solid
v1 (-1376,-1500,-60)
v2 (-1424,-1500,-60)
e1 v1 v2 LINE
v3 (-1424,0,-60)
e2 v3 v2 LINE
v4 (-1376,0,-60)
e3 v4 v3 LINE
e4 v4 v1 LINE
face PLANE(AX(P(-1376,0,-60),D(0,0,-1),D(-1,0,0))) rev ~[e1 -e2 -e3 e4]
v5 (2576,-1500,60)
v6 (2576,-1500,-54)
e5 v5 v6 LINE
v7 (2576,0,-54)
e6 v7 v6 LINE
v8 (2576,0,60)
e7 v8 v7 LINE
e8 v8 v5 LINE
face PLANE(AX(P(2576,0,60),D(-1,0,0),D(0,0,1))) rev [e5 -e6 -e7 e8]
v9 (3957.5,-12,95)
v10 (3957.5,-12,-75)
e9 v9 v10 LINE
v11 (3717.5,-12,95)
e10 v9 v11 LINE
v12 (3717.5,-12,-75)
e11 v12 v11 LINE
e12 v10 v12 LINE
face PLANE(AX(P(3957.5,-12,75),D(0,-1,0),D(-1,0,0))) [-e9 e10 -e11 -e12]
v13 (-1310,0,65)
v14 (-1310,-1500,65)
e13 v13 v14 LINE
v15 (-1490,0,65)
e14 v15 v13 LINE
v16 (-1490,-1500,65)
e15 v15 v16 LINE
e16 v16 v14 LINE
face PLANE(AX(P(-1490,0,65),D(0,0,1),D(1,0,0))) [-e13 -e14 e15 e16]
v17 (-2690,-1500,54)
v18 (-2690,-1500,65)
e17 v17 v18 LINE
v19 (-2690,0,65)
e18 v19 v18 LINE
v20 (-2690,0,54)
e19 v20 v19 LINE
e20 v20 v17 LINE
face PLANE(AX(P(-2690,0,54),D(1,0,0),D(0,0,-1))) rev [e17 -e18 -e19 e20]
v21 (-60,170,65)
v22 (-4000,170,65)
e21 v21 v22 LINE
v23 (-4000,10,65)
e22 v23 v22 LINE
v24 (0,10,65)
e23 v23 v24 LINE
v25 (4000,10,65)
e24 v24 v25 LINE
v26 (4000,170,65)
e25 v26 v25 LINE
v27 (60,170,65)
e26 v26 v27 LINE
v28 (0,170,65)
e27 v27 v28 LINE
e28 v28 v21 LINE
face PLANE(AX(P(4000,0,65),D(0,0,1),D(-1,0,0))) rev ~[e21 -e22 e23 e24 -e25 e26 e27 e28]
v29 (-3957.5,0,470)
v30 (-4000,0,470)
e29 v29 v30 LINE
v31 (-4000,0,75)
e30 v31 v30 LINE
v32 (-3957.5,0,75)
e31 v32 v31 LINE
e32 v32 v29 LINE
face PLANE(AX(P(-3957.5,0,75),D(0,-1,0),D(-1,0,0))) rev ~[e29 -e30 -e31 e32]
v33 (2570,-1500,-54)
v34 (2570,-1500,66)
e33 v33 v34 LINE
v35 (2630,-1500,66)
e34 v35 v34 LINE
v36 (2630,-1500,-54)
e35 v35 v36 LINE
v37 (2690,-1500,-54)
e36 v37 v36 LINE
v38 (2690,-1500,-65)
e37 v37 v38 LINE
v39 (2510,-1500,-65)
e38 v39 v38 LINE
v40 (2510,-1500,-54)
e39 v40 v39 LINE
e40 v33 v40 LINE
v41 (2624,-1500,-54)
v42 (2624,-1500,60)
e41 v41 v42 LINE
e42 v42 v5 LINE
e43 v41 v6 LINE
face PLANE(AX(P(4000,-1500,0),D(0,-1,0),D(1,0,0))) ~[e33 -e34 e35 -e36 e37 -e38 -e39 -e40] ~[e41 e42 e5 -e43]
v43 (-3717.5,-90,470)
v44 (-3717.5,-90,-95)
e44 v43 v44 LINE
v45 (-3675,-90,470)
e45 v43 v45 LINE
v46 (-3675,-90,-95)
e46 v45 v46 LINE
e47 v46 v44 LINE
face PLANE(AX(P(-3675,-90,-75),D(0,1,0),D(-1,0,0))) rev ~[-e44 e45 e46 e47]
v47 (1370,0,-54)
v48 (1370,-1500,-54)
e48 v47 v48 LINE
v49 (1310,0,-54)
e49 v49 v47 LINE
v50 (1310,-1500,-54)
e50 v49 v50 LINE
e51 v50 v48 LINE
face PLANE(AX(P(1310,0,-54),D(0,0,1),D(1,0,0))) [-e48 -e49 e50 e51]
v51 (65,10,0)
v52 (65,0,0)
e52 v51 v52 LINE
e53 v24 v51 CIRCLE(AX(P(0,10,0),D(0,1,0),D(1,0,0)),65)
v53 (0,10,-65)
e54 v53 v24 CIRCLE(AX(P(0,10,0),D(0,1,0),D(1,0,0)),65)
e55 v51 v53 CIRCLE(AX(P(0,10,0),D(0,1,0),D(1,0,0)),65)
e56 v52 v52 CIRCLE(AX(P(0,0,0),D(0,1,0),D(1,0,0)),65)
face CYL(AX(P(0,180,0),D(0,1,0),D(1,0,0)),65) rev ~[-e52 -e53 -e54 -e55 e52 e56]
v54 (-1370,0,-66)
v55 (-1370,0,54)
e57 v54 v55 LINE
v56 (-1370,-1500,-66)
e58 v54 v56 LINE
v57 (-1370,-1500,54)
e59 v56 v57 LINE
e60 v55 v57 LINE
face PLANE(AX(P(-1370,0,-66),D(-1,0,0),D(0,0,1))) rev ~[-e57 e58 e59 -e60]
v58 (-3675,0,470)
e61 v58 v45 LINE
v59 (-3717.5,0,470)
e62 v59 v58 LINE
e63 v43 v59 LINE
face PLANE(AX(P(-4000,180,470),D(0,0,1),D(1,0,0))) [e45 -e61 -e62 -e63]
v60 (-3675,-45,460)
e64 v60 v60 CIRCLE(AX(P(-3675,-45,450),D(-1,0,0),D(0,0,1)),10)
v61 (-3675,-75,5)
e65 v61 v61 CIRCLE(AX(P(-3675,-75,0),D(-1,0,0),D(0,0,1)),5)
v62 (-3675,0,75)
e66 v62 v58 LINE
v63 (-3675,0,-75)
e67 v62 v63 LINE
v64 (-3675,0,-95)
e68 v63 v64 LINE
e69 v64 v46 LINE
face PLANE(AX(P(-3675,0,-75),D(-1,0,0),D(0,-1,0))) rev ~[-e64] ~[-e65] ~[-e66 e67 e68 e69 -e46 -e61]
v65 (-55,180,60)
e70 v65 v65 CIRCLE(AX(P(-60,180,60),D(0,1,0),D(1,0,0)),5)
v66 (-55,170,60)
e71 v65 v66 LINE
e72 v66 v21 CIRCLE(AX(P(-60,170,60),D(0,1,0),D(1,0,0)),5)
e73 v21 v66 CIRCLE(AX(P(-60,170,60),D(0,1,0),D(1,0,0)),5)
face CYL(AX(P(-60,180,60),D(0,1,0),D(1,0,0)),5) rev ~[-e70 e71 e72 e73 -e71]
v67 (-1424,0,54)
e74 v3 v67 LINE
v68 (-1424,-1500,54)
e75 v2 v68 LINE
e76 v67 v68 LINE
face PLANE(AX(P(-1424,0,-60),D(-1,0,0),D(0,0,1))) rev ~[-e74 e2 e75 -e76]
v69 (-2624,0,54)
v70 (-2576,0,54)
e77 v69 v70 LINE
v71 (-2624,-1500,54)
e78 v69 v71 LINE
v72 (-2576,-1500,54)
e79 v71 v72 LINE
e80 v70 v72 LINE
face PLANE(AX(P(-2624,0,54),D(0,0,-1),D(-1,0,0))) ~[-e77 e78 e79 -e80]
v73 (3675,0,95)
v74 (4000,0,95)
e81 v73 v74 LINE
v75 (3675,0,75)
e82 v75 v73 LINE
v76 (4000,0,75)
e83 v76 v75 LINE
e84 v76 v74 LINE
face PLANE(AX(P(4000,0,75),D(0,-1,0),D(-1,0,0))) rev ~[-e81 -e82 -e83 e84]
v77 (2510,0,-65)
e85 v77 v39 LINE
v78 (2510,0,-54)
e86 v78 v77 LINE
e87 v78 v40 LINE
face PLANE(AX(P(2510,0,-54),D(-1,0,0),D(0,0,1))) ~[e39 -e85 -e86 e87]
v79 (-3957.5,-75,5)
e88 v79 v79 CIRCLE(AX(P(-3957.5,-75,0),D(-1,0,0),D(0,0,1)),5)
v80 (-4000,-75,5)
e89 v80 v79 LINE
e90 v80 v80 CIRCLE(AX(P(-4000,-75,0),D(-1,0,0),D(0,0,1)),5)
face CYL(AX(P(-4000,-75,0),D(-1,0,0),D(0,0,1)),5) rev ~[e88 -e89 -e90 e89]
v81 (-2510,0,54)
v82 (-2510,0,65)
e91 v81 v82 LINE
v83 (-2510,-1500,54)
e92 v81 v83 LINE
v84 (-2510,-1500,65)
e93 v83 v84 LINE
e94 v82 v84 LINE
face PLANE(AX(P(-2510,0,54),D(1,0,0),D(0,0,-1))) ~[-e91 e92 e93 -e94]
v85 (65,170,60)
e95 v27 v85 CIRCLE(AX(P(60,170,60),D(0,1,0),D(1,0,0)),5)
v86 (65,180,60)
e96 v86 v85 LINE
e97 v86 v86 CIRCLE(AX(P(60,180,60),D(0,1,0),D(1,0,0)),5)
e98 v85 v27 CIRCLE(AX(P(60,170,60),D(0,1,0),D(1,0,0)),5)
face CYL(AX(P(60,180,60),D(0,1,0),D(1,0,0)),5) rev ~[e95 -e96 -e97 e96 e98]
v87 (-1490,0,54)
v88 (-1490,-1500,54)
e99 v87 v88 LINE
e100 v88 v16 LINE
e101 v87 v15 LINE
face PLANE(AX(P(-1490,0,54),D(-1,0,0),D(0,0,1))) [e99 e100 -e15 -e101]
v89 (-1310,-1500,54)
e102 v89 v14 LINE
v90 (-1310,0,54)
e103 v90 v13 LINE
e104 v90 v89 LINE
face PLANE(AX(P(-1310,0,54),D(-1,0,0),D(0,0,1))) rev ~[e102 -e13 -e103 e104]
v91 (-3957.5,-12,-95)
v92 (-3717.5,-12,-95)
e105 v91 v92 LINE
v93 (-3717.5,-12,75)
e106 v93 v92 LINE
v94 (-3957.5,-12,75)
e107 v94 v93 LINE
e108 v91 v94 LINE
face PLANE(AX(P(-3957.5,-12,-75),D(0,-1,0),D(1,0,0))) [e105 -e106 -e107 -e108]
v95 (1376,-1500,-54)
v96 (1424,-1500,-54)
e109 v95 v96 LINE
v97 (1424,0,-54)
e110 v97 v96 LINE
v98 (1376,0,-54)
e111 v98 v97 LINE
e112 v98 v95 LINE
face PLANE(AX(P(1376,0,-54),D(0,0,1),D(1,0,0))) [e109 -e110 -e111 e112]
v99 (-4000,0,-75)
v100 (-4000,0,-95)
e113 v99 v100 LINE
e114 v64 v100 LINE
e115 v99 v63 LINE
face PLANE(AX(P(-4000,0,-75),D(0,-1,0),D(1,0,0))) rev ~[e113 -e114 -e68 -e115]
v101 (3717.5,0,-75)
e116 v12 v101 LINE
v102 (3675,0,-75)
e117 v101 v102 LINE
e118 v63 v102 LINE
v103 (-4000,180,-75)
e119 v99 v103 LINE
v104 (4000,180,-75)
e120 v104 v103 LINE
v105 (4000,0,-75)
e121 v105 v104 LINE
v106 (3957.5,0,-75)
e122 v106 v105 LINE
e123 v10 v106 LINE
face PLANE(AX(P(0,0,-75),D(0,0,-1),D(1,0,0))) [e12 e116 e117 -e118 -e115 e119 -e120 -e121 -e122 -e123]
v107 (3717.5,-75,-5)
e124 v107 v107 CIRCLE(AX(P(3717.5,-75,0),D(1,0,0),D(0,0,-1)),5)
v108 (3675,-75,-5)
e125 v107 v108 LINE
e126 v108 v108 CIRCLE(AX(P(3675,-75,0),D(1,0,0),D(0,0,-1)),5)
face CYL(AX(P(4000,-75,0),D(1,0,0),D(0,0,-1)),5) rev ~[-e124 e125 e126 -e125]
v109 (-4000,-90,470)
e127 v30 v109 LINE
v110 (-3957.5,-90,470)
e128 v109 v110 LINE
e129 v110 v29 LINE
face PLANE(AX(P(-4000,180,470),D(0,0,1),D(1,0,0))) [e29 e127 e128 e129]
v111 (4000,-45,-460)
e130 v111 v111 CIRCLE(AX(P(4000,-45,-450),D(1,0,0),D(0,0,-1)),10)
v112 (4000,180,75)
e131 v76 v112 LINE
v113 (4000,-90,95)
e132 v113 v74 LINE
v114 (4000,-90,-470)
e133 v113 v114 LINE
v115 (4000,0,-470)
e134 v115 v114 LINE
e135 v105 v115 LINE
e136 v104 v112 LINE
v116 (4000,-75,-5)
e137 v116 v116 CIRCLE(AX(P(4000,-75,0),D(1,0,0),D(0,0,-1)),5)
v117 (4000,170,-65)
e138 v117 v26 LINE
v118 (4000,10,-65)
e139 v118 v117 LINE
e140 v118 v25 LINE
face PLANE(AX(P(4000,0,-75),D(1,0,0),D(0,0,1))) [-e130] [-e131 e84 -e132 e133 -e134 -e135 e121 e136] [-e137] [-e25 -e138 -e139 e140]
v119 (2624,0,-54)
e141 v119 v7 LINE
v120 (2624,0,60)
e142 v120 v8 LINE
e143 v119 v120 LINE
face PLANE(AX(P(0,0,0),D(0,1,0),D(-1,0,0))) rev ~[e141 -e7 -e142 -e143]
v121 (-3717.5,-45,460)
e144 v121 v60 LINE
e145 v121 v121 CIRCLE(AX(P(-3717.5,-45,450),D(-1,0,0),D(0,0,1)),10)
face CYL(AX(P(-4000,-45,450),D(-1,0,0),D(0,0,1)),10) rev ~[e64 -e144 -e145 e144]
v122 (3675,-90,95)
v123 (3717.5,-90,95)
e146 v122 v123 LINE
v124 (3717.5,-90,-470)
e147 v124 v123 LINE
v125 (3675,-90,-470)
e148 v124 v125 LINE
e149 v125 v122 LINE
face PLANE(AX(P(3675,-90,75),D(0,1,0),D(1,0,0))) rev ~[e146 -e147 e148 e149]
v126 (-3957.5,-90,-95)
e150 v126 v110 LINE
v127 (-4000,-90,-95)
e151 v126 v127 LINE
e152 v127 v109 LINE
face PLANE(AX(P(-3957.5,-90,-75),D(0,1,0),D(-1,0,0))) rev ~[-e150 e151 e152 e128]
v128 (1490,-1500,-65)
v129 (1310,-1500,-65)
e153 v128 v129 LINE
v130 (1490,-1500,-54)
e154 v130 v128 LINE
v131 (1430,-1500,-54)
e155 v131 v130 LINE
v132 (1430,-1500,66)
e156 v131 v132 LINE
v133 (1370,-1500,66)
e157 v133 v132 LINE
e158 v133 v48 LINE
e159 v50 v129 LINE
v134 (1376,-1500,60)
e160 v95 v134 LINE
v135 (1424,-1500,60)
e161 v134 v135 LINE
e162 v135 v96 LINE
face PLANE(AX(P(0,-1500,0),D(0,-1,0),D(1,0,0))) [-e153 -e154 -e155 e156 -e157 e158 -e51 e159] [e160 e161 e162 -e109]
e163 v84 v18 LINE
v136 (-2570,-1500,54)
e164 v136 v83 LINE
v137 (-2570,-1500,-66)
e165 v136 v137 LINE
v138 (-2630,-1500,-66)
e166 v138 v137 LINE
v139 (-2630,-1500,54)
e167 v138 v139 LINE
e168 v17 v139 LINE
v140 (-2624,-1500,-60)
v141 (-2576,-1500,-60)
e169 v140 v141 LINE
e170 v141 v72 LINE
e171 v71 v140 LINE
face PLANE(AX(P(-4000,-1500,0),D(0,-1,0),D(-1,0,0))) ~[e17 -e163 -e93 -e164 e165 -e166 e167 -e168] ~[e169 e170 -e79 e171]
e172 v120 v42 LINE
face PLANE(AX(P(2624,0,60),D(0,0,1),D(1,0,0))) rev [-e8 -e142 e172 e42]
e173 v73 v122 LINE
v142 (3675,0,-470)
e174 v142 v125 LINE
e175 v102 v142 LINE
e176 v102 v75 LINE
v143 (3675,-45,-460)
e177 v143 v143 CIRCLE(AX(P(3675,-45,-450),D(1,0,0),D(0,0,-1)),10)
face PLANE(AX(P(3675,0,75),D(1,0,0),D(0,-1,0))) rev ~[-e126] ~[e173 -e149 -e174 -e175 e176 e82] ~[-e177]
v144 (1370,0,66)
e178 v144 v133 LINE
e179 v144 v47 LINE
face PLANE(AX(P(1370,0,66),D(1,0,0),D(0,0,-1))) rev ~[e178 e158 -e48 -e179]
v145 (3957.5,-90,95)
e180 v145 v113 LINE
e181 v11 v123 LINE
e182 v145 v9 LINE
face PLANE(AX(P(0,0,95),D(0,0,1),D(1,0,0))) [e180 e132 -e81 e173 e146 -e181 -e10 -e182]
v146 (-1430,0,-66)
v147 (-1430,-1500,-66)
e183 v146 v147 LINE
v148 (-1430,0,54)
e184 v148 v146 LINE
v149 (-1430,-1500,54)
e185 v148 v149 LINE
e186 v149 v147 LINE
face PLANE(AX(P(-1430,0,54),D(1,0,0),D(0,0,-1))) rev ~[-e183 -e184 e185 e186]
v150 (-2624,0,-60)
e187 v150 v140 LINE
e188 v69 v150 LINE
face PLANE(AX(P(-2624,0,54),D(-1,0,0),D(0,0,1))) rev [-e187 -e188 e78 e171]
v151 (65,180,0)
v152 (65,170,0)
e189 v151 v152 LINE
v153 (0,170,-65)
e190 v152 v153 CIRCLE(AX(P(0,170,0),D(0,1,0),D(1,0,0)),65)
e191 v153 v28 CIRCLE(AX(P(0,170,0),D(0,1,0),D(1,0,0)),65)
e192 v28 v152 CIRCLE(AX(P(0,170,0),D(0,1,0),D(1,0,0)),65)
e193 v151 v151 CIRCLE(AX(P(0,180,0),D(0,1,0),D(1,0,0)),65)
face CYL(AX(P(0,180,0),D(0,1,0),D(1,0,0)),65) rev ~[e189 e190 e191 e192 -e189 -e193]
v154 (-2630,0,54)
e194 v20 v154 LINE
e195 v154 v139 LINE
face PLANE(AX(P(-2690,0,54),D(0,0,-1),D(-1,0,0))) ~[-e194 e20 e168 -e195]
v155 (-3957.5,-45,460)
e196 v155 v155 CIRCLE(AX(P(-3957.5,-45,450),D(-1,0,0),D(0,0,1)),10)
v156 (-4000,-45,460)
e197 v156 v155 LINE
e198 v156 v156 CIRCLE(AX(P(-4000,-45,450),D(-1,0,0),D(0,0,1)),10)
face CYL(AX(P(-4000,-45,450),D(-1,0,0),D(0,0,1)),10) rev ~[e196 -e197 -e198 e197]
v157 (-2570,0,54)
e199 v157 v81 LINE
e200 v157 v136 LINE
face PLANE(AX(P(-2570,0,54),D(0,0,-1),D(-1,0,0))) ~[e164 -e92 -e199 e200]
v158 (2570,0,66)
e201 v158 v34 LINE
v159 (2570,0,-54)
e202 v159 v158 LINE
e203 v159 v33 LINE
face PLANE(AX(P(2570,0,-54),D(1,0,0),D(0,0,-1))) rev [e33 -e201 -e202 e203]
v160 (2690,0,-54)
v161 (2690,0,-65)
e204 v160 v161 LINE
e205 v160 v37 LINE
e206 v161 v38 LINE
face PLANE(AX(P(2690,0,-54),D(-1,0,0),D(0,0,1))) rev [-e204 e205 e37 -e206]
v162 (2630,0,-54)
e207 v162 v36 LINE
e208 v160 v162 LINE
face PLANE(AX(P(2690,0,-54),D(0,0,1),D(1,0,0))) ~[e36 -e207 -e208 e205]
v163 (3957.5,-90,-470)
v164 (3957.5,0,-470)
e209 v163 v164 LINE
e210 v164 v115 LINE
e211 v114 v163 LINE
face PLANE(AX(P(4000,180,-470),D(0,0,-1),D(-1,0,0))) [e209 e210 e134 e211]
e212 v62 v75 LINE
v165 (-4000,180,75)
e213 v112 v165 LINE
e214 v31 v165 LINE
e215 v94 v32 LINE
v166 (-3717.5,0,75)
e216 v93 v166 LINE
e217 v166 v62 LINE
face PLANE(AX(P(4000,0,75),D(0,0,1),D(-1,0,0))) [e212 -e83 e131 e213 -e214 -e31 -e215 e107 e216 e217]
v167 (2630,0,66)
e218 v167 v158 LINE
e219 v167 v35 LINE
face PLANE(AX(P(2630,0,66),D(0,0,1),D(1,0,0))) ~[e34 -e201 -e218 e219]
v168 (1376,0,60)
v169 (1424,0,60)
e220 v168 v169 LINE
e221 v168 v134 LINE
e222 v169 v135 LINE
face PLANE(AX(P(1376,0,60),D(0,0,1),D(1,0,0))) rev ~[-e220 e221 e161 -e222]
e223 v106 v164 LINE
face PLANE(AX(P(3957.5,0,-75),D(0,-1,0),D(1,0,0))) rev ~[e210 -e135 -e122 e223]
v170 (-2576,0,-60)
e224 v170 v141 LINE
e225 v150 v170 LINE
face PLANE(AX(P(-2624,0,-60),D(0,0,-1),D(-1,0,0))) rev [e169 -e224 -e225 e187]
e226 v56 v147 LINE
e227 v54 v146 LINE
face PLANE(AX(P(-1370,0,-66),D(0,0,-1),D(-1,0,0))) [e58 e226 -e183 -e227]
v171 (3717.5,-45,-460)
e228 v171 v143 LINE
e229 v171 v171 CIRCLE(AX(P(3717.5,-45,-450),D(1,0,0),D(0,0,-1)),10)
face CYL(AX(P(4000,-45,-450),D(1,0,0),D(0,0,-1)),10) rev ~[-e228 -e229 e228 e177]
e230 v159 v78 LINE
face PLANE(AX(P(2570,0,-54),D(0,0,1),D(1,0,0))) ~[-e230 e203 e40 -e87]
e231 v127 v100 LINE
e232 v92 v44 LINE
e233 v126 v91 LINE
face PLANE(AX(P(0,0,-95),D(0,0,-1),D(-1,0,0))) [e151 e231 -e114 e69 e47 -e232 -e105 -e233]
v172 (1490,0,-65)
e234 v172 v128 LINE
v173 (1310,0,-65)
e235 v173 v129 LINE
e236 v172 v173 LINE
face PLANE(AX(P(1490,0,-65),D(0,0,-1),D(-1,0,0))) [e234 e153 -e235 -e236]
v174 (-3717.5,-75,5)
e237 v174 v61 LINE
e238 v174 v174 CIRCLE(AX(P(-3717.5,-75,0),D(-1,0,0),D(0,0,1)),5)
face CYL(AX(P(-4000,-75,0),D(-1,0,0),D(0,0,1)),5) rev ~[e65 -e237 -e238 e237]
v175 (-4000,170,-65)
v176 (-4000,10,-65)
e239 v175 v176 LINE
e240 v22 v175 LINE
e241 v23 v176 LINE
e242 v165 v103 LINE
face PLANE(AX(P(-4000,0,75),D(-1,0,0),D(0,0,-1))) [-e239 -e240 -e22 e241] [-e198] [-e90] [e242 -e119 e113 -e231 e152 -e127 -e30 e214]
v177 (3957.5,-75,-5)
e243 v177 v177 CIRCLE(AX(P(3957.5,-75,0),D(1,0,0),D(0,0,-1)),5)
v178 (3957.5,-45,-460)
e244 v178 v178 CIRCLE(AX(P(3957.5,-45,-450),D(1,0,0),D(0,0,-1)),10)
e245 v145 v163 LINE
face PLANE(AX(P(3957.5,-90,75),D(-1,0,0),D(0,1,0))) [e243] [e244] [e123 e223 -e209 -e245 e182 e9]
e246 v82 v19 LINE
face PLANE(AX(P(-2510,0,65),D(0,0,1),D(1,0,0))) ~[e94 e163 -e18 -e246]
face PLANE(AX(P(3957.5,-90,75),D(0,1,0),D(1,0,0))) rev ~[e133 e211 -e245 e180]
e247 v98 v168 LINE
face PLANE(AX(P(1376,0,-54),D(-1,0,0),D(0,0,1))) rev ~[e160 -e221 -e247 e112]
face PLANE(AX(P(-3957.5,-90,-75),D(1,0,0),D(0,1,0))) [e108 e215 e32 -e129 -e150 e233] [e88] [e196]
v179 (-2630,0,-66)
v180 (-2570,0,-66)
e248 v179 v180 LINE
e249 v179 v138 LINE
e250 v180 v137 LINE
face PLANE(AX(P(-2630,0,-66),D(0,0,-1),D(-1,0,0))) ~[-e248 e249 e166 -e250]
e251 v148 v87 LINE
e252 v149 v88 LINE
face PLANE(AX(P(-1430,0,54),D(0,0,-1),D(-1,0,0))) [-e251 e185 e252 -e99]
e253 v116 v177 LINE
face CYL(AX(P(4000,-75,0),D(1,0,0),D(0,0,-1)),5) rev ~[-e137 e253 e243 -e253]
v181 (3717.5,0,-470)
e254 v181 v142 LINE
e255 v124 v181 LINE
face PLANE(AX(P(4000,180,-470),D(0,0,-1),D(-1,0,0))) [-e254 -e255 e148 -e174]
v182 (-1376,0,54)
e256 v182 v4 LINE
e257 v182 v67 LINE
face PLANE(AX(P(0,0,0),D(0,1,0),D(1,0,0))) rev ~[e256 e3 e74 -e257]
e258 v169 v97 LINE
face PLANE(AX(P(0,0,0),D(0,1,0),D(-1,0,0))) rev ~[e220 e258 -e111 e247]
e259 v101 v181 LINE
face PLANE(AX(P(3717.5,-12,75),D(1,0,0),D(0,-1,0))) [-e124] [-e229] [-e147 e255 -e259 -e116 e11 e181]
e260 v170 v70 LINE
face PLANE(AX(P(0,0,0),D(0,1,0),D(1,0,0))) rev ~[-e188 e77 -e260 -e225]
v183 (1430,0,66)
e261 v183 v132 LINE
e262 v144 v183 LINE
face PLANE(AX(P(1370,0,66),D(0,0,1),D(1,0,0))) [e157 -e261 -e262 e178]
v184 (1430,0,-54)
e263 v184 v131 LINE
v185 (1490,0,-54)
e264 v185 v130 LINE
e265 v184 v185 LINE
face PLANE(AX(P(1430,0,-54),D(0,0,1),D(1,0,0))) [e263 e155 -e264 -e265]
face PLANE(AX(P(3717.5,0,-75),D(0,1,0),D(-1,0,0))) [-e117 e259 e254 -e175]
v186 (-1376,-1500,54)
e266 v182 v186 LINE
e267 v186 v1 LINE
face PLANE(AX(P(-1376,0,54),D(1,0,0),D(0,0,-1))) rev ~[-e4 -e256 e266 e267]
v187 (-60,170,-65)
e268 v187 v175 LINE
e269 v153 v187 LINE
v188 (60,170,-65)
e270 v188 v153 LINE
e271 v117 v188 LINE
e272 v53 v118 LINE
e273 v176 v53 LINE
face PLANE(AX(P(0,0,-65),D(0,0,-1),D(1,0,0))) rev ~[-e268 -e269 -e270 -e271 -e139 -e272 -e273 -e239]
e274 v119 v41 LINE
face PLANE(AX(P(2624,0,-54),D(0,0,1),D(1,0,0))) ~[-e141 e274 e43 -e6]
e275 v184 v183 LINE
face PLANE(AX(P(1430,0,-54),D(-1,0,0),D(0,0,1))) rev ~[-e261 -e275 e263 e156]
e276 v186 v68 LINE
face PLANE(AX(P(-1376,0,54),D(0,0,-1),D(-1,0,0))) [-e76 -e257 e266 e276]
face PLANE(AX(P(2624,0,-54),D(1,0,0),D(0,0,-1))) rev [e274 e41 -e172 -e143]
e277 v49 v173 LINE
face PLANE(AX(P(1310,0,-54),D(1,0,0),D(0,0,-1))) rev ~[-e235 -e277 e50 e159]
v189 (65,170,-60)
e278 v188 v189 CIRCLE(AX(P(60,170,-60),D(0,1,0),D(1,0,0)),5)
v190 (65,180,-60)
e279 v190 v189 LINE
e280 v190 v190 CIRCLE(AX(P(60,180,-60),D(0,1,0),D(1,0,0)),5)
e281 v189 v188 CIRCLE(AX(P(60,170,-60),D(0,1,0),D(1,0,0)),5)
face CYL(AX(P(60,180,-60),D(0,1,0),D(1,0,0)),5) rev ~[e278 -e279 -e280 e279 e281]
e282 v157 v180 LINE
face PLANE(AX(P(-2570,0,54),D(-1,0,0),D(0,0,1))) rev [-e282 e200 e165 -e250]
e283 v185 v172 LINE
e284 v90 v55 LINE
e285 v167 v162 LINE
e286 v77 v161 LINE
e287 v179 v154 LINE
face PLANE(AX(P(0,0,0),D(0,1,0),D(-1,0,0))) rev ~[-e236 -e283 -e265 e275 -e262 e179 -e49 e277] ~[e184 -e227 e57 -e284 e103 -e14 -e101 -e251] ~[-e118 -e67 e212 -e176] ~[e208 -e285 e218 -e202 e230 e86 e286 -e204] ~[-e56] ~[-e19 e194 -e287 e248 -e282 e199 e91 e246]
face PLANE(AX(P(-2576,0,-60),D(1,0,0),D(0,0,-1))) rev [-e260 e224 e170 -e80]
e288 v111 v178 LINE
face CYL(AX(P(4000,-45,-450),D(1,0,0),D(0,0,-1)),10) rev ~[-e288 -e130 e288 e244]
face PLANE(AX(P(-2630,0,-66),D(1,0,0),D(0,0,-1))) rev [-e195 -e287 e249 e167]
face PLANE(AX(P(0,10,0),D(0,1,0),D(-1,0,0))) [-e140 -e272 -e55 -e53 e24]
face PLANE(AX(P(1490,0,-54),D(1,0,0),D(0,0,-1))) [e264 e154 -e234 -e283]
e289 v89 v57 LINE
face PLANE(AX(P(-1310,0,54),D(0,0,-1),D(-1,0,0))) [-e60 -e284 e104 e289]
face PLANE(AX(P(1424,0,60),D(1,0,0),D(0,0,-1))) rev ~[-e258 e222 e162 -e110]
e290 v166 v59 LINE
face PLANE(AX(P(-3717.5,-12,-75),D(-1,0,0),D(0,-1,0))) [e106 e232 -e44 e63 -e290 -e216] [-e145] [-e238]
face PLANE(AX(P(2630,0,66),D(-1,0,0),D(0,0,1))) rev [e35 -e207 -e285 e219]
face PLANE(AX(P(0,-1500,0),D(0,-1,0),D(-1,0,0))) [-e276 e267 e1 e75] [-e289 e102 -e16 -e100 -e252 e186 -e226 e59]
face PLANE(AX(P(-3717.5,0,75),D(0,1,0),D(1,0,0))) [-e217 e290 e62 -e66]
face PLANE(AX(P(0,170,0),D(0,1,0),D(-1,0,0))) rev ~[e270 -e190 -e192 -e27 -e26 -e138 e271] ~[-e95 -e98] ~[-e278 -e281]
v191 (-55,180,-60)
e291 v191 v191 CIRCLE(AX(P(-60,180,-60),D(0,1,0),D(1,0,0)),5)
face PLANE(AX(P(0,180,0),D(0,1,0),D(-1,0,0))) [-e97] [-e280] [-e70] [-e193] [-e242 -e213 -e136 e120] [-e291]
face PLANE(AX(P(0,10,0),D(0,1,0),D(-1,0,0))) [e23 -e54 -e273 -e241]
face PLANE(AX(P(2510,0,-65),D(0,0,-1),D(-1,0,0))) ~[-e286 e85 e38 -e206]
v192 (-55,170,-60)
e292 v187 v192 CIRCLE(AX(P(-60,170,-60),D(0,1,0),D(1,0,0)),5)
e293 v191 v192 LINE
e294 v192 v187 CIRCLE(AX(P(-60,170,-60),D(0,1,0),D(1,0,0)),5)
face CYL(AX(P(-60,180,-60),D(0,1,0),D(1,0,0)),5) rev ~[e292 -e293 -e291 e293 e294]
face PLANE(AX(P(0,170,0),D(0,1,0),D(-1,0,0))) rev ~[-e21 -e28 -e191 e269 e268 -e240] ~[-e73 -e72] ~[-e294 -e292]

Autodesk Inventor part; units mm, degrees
ref_plane "YZ Plane" through (0, 0, 0) normal (1, 0, 0) x (0, 1, 0)
ref_plane "XZ Plane" through (0, 0, 0) normal (0, 1, 0) x (-1, 0, 0)
sketch "Sketch1" plane through (0, 0, 0) normal (0, 1, 0) x (-1, 0, 0)
  line L0 (0, 0) -> (-1400, 0) construction
  line L1 (-1400, 0) -> (-2600, 0) construction
  line L2 (-2600, 0) -> (-4000, 0) construction
  line L3 (-4000, 75) -> (0, 75)
  line L4 (0, 75) -> (0, -75)
  line L5 (0, -75) -> (-4000, -75)
  line L6 (-4000, -75) -> (-4000, 75)
  line L7 (-4000, 75) -> (0, -75) construction
  line L8 (0, 75) -> (-4000, -75) construction
  point P0 (-2000, 0)
  dimension "d0" = 1400
  dimension "d1" = 1200
  dimension "d2" = 1400
  dimension "d3" = 150
  dimension "d4" = 4000
extrude "Extrusion1" add sketch "Sketch1" along normal blind 180
shell "Shell1" thickness 10 removed faces 2 at (4000, 60, 25) at (0, 60, -25)
sketch "Sketch2" plane through (0, 0, 0) normal (0, -1, 0) x (1, 0, 0)
  line L0 (0, 0) -> (1400, 0) construction
  line L1 (1400, 0) -> (2600, 0) construction
  line L2 (2600, 0) -> (4000, 0) construction
  line L3 (0, -75) -> (0, 75) construction
  line L4 (4000, 75) -> (4000, -75) construction
  line L5 (0, 75) -> (4000, 75) construction
  line L6 (4000, 75) -> (4000, -75) construction
  line L7 (4000, -75) -> (0, -75) construction
  line L8 (0, -75) -> (0, 75) construction
  line L9 (3991, 66) -> (9, 66) construction
  line L10 (9, 66) -> (9, -66) construction
  line L11 (9, -66) -> (3991, -66) construction
  line L12 (3991, -66) -> (3991, 66) construction
  line L13 (1370, -66) -> (1370, 66) construction
  line L14 (1370, 66) -> (1430, 66) construction
  line L15 (1430, 66) -> (1430, -66) construction
  line L16 (1430, -66) -> (1370, -66) construction
  line L17 (1370, -66) -> (1430, 66) construction
  line L18 (1370, 66) -> (1430, -66) construction
  line L19 (1310, -66) -> (1310, 66) construction
  line L20 (1310, 66) -> (1490, 66) construction
  line L21 (1490, 66) -> (1490, -66) construction
  line L22 (1490, -66) -> (1310, -66) construction
  line L23 (1310, -66) -> (1490, 66) construction
  line L24 (1310, 66) -> (1490, -66) construction
  line L25 (1310, -66) -> (1490, -66) construction
  line L26 (1490, -66) -> (1490, -54) construction
  line L27 (1490, -54) -> (1310, -54) construction
  line L28 (1310, -54) -> (1310, -66) construction
  line L29 (1370, -54) -> (1430, -54) construction
  line L30 (1430, -54) -> (1430, 66) construction
  line L31 (1430, 66) -> (1370, 66) construction
  line L32 (1370, 66) -> (1370, -54) construction
  line L33 (1310, -54) -> (1370, -54)
  line L34 (1370, 66) -> (1370, -54)
  line L35 (1430, -54) -> (1430, 66)
  line L36 (1370, 66) -> (1430, 66)
  line L37 (1430, -54) -> (1490, -54)
  line L38 (1310, -54) -> (1310, -66)
  line L39 (1310, -66) -> (1490, -66)
  line L40 (1490, -54) -> (1490, -66)
  line L41 (4000, -65) -> (0, -65) projected
  line L42 (1376, -54) -> (1376, 60)
  line L43 (1376, 60) -> (1424, 60)
  line L44 (1424, 60) -> (1424, -54)
  line L45 (1376, -54) -> (1424, -54)
  point P0 (1310, -65)
  point P1 (1490, -65)
  dimension "d8" = 1400
  dimension "d9" = 1200
  dimension "d10" = 1400
  dimension "d11" = 9
  dimension "d12" = 60
  dimension "d13" = 180
  dimension "d14" = 12
  dimension "d15" = 6
  dimension "d16" = 114
extrude "Extrusion2" add sketch "Sketch2" along normal blind 1500 contours L33 L34 L36 L35 L37 L40 L41 L38
ref_plane "Work Plane1" through (1400, -1500, -54) normal (1, 0, 0) x (0, 0, -1)
ref_plane "Work Plane3" through (2000, -1500, -54) normal (1, 0, 0) x (0, 0, -1)
ref_plane "Work Plane2" through (2600, -1500, -54) normal (1, 0, 0) x (0, 0, -1)
mirror "Mirror1" about plane through (2000, -1500, -54) normal (1, 0, 0) of "Extrusion2"
sketch "Sketch3" plane through (0, 0, 75) normal (0, 0, 1) x (1, 0, 0)
  line L0 (4000, 0) -> (0, 0) projected
  line L1 (4000, 0) -> (3675, 0)
  line L2 (3675, 0) -> (3675, -90)
  line L3 (3675, -90) -> (4000, -90)
  line L4 (4000, -90) -> (4000, 0)
  line L5 (3675, 0) -> (3717.5, 0)
  line L6 (3717.5, 0) -> (3717.5, -90)
  line L7 (3717.5, -90) -> (3675, -90)
  line L8 (3675, -90) -> (3675, 0)
  line L9 (4000, -90) -> (3957.5, -90)
  line L10 (3957.5, -90) -> (3957.5, 0)
  line L11 (3957.5, 0) -> (4000, 0)
  line L12 (4000, 0) -> (4000, -90)
  line L13 (3717.5, 0) -> (3957.5, 0)
  line L14 (3957.5, 0) -> (3957.5, -12)
  line L15 (3957.5, -12) -> (3717.5, -12)
  line L16 (3717.5, -12) -> (3717.5, 0)
  dimension "d20" = 325
  dimension "d21" = 90
  dimension "d22" = 42.5
  dimension "d23" = 42.5
  dimension "d24" = 90
  dimension "d25" = 12
extrude "Extrusion3" add sketch "Sketch3" along normal blind 20 and the other way blind 150 contours L4 L3 L10 L0 | L10 L15 L6 L0 | L6 L3 L2 L0
sketch "Sketch5" plane through (4000, 180, -75) normal (0, 0, -1) x (-1, 0, 0)
  line L0 (0, 0) -> (0, -270) projected
  line L1 (0, -270) -> (42.5, -270)
  line L2 (42.5, -270) -> (42.5, -180)
  line L3 (42.5, -180) -> (0, -180)
  line L4 (0, -180) -> (0, -270)
  line L5 (282.5, -270) -> (325, -270) projected
  line L6 (325, -270) -> (282.5, -270)
  line L7 (282.5, -270) -> (282.5, -180)
  line L8 (282.5, -180) -> (325, -180)
  line L9 (325, -180) -> (325, -270)
  point P0 (4000, -180)
  dimension "d36" = 90
  dimension "d37" = 42.5
  dimension "d38" = 90
extrude "Extrusion4" add sketch "Sketch5" along normal blind 395
sketch "Sketch6" plane through (4000, 180, 75) normal (1, 0, 0) x (0, 0, -1)
  line L0 (-20, -192) -> (-20, -270) projected
  line L1 (-20, -270) -> (75, -270) construction
  line L2 (75, -270) -> (75, -255) construction
  line L3 (75, -255) -> (-20, -255) construction
  line L4 (-20, -255) -> (-20, -270) construction
  circle A0 centre (75, -255) radius 5
  line L5 (150, -180) -> (545, -180) projected
  line L6 (545, -180) -> (525, -180) construction
  line L7 (525, -180) -> (525, -225) construction
  line L8 (525, -225) -> (545, -225) construction
  line L9 (545, -225) -> (545, -180) construction
  circle A1 centre (525, -225) radius 10
  point P0 (75, -180)
  dimension "d41" = 95
  dimension "d42" = 15
  dimension "d43" = 10
  dimension "d44" = 20
  dimension "d45" = 20
extrude "Extrusion5" cut sketch "Sketch6" against normal up to surface (325 mm away)
ref_plane "Work Plane4" through (0, 180, 0) normal (0, 0, 1) x (1, 0, 0)
pattern_circular "Circular Pattern1" count 2 over 360 about axis through (0, -10, 0) along (0, 1, 0)
sketch "Sketch7" plane through (0, 180, 0) normal (0, 1, 0) x (1, 0, 0)
  circle A0 centre (0, 0) radius 65
  dimension "d51" = 130
extrude "Extrusion6" cut sketch "Sketch7" against normal up to surface (180 mm away)
sketch "Sketch8" plane through (0, 180, 0) normal (0, 1, 0) x (1, 0, 0)
  line L0 (-3675, -75) -> (3675, -75) projected
  line L1 (-75, 75) -> (75, 75)
  line L2 (75, 75) -> (75, -75)
  line L3 (75, -75) -> (-75, -75)
  line L4 (-75, -75) -> (-75, 75)
  arc A0 (0, -65) -> (0, 65) centre (0, 0) ccw projected
  line L5 (-75, 75) -> (75, -75) construction
  line L6 (75, 75) -> (-75, -75) construction
  circle A1 centre (60, -60) radius 5
  line L7 (0, 75) -> (0, -75) construction
  line L8 (-75, 0) -> (75, 0) construction
  circle A2 centre (-60, -60) radius 5
  circle A3 centre (60, 60) radius 5
  circle A4 centre (-60, 60) radius 5
  dimension "d54" = 150
  dimension "d55" = 10
  dimension "d56" = 15
  dimension "d57" = 15
extrude "Extrusion7" cut sketch "Sketch8" against normal blind 20 contours A1 | A2 | A3 | A4
properties part number "Trave_e_Pale_inventor_coppia" material "Stainless Steel"
